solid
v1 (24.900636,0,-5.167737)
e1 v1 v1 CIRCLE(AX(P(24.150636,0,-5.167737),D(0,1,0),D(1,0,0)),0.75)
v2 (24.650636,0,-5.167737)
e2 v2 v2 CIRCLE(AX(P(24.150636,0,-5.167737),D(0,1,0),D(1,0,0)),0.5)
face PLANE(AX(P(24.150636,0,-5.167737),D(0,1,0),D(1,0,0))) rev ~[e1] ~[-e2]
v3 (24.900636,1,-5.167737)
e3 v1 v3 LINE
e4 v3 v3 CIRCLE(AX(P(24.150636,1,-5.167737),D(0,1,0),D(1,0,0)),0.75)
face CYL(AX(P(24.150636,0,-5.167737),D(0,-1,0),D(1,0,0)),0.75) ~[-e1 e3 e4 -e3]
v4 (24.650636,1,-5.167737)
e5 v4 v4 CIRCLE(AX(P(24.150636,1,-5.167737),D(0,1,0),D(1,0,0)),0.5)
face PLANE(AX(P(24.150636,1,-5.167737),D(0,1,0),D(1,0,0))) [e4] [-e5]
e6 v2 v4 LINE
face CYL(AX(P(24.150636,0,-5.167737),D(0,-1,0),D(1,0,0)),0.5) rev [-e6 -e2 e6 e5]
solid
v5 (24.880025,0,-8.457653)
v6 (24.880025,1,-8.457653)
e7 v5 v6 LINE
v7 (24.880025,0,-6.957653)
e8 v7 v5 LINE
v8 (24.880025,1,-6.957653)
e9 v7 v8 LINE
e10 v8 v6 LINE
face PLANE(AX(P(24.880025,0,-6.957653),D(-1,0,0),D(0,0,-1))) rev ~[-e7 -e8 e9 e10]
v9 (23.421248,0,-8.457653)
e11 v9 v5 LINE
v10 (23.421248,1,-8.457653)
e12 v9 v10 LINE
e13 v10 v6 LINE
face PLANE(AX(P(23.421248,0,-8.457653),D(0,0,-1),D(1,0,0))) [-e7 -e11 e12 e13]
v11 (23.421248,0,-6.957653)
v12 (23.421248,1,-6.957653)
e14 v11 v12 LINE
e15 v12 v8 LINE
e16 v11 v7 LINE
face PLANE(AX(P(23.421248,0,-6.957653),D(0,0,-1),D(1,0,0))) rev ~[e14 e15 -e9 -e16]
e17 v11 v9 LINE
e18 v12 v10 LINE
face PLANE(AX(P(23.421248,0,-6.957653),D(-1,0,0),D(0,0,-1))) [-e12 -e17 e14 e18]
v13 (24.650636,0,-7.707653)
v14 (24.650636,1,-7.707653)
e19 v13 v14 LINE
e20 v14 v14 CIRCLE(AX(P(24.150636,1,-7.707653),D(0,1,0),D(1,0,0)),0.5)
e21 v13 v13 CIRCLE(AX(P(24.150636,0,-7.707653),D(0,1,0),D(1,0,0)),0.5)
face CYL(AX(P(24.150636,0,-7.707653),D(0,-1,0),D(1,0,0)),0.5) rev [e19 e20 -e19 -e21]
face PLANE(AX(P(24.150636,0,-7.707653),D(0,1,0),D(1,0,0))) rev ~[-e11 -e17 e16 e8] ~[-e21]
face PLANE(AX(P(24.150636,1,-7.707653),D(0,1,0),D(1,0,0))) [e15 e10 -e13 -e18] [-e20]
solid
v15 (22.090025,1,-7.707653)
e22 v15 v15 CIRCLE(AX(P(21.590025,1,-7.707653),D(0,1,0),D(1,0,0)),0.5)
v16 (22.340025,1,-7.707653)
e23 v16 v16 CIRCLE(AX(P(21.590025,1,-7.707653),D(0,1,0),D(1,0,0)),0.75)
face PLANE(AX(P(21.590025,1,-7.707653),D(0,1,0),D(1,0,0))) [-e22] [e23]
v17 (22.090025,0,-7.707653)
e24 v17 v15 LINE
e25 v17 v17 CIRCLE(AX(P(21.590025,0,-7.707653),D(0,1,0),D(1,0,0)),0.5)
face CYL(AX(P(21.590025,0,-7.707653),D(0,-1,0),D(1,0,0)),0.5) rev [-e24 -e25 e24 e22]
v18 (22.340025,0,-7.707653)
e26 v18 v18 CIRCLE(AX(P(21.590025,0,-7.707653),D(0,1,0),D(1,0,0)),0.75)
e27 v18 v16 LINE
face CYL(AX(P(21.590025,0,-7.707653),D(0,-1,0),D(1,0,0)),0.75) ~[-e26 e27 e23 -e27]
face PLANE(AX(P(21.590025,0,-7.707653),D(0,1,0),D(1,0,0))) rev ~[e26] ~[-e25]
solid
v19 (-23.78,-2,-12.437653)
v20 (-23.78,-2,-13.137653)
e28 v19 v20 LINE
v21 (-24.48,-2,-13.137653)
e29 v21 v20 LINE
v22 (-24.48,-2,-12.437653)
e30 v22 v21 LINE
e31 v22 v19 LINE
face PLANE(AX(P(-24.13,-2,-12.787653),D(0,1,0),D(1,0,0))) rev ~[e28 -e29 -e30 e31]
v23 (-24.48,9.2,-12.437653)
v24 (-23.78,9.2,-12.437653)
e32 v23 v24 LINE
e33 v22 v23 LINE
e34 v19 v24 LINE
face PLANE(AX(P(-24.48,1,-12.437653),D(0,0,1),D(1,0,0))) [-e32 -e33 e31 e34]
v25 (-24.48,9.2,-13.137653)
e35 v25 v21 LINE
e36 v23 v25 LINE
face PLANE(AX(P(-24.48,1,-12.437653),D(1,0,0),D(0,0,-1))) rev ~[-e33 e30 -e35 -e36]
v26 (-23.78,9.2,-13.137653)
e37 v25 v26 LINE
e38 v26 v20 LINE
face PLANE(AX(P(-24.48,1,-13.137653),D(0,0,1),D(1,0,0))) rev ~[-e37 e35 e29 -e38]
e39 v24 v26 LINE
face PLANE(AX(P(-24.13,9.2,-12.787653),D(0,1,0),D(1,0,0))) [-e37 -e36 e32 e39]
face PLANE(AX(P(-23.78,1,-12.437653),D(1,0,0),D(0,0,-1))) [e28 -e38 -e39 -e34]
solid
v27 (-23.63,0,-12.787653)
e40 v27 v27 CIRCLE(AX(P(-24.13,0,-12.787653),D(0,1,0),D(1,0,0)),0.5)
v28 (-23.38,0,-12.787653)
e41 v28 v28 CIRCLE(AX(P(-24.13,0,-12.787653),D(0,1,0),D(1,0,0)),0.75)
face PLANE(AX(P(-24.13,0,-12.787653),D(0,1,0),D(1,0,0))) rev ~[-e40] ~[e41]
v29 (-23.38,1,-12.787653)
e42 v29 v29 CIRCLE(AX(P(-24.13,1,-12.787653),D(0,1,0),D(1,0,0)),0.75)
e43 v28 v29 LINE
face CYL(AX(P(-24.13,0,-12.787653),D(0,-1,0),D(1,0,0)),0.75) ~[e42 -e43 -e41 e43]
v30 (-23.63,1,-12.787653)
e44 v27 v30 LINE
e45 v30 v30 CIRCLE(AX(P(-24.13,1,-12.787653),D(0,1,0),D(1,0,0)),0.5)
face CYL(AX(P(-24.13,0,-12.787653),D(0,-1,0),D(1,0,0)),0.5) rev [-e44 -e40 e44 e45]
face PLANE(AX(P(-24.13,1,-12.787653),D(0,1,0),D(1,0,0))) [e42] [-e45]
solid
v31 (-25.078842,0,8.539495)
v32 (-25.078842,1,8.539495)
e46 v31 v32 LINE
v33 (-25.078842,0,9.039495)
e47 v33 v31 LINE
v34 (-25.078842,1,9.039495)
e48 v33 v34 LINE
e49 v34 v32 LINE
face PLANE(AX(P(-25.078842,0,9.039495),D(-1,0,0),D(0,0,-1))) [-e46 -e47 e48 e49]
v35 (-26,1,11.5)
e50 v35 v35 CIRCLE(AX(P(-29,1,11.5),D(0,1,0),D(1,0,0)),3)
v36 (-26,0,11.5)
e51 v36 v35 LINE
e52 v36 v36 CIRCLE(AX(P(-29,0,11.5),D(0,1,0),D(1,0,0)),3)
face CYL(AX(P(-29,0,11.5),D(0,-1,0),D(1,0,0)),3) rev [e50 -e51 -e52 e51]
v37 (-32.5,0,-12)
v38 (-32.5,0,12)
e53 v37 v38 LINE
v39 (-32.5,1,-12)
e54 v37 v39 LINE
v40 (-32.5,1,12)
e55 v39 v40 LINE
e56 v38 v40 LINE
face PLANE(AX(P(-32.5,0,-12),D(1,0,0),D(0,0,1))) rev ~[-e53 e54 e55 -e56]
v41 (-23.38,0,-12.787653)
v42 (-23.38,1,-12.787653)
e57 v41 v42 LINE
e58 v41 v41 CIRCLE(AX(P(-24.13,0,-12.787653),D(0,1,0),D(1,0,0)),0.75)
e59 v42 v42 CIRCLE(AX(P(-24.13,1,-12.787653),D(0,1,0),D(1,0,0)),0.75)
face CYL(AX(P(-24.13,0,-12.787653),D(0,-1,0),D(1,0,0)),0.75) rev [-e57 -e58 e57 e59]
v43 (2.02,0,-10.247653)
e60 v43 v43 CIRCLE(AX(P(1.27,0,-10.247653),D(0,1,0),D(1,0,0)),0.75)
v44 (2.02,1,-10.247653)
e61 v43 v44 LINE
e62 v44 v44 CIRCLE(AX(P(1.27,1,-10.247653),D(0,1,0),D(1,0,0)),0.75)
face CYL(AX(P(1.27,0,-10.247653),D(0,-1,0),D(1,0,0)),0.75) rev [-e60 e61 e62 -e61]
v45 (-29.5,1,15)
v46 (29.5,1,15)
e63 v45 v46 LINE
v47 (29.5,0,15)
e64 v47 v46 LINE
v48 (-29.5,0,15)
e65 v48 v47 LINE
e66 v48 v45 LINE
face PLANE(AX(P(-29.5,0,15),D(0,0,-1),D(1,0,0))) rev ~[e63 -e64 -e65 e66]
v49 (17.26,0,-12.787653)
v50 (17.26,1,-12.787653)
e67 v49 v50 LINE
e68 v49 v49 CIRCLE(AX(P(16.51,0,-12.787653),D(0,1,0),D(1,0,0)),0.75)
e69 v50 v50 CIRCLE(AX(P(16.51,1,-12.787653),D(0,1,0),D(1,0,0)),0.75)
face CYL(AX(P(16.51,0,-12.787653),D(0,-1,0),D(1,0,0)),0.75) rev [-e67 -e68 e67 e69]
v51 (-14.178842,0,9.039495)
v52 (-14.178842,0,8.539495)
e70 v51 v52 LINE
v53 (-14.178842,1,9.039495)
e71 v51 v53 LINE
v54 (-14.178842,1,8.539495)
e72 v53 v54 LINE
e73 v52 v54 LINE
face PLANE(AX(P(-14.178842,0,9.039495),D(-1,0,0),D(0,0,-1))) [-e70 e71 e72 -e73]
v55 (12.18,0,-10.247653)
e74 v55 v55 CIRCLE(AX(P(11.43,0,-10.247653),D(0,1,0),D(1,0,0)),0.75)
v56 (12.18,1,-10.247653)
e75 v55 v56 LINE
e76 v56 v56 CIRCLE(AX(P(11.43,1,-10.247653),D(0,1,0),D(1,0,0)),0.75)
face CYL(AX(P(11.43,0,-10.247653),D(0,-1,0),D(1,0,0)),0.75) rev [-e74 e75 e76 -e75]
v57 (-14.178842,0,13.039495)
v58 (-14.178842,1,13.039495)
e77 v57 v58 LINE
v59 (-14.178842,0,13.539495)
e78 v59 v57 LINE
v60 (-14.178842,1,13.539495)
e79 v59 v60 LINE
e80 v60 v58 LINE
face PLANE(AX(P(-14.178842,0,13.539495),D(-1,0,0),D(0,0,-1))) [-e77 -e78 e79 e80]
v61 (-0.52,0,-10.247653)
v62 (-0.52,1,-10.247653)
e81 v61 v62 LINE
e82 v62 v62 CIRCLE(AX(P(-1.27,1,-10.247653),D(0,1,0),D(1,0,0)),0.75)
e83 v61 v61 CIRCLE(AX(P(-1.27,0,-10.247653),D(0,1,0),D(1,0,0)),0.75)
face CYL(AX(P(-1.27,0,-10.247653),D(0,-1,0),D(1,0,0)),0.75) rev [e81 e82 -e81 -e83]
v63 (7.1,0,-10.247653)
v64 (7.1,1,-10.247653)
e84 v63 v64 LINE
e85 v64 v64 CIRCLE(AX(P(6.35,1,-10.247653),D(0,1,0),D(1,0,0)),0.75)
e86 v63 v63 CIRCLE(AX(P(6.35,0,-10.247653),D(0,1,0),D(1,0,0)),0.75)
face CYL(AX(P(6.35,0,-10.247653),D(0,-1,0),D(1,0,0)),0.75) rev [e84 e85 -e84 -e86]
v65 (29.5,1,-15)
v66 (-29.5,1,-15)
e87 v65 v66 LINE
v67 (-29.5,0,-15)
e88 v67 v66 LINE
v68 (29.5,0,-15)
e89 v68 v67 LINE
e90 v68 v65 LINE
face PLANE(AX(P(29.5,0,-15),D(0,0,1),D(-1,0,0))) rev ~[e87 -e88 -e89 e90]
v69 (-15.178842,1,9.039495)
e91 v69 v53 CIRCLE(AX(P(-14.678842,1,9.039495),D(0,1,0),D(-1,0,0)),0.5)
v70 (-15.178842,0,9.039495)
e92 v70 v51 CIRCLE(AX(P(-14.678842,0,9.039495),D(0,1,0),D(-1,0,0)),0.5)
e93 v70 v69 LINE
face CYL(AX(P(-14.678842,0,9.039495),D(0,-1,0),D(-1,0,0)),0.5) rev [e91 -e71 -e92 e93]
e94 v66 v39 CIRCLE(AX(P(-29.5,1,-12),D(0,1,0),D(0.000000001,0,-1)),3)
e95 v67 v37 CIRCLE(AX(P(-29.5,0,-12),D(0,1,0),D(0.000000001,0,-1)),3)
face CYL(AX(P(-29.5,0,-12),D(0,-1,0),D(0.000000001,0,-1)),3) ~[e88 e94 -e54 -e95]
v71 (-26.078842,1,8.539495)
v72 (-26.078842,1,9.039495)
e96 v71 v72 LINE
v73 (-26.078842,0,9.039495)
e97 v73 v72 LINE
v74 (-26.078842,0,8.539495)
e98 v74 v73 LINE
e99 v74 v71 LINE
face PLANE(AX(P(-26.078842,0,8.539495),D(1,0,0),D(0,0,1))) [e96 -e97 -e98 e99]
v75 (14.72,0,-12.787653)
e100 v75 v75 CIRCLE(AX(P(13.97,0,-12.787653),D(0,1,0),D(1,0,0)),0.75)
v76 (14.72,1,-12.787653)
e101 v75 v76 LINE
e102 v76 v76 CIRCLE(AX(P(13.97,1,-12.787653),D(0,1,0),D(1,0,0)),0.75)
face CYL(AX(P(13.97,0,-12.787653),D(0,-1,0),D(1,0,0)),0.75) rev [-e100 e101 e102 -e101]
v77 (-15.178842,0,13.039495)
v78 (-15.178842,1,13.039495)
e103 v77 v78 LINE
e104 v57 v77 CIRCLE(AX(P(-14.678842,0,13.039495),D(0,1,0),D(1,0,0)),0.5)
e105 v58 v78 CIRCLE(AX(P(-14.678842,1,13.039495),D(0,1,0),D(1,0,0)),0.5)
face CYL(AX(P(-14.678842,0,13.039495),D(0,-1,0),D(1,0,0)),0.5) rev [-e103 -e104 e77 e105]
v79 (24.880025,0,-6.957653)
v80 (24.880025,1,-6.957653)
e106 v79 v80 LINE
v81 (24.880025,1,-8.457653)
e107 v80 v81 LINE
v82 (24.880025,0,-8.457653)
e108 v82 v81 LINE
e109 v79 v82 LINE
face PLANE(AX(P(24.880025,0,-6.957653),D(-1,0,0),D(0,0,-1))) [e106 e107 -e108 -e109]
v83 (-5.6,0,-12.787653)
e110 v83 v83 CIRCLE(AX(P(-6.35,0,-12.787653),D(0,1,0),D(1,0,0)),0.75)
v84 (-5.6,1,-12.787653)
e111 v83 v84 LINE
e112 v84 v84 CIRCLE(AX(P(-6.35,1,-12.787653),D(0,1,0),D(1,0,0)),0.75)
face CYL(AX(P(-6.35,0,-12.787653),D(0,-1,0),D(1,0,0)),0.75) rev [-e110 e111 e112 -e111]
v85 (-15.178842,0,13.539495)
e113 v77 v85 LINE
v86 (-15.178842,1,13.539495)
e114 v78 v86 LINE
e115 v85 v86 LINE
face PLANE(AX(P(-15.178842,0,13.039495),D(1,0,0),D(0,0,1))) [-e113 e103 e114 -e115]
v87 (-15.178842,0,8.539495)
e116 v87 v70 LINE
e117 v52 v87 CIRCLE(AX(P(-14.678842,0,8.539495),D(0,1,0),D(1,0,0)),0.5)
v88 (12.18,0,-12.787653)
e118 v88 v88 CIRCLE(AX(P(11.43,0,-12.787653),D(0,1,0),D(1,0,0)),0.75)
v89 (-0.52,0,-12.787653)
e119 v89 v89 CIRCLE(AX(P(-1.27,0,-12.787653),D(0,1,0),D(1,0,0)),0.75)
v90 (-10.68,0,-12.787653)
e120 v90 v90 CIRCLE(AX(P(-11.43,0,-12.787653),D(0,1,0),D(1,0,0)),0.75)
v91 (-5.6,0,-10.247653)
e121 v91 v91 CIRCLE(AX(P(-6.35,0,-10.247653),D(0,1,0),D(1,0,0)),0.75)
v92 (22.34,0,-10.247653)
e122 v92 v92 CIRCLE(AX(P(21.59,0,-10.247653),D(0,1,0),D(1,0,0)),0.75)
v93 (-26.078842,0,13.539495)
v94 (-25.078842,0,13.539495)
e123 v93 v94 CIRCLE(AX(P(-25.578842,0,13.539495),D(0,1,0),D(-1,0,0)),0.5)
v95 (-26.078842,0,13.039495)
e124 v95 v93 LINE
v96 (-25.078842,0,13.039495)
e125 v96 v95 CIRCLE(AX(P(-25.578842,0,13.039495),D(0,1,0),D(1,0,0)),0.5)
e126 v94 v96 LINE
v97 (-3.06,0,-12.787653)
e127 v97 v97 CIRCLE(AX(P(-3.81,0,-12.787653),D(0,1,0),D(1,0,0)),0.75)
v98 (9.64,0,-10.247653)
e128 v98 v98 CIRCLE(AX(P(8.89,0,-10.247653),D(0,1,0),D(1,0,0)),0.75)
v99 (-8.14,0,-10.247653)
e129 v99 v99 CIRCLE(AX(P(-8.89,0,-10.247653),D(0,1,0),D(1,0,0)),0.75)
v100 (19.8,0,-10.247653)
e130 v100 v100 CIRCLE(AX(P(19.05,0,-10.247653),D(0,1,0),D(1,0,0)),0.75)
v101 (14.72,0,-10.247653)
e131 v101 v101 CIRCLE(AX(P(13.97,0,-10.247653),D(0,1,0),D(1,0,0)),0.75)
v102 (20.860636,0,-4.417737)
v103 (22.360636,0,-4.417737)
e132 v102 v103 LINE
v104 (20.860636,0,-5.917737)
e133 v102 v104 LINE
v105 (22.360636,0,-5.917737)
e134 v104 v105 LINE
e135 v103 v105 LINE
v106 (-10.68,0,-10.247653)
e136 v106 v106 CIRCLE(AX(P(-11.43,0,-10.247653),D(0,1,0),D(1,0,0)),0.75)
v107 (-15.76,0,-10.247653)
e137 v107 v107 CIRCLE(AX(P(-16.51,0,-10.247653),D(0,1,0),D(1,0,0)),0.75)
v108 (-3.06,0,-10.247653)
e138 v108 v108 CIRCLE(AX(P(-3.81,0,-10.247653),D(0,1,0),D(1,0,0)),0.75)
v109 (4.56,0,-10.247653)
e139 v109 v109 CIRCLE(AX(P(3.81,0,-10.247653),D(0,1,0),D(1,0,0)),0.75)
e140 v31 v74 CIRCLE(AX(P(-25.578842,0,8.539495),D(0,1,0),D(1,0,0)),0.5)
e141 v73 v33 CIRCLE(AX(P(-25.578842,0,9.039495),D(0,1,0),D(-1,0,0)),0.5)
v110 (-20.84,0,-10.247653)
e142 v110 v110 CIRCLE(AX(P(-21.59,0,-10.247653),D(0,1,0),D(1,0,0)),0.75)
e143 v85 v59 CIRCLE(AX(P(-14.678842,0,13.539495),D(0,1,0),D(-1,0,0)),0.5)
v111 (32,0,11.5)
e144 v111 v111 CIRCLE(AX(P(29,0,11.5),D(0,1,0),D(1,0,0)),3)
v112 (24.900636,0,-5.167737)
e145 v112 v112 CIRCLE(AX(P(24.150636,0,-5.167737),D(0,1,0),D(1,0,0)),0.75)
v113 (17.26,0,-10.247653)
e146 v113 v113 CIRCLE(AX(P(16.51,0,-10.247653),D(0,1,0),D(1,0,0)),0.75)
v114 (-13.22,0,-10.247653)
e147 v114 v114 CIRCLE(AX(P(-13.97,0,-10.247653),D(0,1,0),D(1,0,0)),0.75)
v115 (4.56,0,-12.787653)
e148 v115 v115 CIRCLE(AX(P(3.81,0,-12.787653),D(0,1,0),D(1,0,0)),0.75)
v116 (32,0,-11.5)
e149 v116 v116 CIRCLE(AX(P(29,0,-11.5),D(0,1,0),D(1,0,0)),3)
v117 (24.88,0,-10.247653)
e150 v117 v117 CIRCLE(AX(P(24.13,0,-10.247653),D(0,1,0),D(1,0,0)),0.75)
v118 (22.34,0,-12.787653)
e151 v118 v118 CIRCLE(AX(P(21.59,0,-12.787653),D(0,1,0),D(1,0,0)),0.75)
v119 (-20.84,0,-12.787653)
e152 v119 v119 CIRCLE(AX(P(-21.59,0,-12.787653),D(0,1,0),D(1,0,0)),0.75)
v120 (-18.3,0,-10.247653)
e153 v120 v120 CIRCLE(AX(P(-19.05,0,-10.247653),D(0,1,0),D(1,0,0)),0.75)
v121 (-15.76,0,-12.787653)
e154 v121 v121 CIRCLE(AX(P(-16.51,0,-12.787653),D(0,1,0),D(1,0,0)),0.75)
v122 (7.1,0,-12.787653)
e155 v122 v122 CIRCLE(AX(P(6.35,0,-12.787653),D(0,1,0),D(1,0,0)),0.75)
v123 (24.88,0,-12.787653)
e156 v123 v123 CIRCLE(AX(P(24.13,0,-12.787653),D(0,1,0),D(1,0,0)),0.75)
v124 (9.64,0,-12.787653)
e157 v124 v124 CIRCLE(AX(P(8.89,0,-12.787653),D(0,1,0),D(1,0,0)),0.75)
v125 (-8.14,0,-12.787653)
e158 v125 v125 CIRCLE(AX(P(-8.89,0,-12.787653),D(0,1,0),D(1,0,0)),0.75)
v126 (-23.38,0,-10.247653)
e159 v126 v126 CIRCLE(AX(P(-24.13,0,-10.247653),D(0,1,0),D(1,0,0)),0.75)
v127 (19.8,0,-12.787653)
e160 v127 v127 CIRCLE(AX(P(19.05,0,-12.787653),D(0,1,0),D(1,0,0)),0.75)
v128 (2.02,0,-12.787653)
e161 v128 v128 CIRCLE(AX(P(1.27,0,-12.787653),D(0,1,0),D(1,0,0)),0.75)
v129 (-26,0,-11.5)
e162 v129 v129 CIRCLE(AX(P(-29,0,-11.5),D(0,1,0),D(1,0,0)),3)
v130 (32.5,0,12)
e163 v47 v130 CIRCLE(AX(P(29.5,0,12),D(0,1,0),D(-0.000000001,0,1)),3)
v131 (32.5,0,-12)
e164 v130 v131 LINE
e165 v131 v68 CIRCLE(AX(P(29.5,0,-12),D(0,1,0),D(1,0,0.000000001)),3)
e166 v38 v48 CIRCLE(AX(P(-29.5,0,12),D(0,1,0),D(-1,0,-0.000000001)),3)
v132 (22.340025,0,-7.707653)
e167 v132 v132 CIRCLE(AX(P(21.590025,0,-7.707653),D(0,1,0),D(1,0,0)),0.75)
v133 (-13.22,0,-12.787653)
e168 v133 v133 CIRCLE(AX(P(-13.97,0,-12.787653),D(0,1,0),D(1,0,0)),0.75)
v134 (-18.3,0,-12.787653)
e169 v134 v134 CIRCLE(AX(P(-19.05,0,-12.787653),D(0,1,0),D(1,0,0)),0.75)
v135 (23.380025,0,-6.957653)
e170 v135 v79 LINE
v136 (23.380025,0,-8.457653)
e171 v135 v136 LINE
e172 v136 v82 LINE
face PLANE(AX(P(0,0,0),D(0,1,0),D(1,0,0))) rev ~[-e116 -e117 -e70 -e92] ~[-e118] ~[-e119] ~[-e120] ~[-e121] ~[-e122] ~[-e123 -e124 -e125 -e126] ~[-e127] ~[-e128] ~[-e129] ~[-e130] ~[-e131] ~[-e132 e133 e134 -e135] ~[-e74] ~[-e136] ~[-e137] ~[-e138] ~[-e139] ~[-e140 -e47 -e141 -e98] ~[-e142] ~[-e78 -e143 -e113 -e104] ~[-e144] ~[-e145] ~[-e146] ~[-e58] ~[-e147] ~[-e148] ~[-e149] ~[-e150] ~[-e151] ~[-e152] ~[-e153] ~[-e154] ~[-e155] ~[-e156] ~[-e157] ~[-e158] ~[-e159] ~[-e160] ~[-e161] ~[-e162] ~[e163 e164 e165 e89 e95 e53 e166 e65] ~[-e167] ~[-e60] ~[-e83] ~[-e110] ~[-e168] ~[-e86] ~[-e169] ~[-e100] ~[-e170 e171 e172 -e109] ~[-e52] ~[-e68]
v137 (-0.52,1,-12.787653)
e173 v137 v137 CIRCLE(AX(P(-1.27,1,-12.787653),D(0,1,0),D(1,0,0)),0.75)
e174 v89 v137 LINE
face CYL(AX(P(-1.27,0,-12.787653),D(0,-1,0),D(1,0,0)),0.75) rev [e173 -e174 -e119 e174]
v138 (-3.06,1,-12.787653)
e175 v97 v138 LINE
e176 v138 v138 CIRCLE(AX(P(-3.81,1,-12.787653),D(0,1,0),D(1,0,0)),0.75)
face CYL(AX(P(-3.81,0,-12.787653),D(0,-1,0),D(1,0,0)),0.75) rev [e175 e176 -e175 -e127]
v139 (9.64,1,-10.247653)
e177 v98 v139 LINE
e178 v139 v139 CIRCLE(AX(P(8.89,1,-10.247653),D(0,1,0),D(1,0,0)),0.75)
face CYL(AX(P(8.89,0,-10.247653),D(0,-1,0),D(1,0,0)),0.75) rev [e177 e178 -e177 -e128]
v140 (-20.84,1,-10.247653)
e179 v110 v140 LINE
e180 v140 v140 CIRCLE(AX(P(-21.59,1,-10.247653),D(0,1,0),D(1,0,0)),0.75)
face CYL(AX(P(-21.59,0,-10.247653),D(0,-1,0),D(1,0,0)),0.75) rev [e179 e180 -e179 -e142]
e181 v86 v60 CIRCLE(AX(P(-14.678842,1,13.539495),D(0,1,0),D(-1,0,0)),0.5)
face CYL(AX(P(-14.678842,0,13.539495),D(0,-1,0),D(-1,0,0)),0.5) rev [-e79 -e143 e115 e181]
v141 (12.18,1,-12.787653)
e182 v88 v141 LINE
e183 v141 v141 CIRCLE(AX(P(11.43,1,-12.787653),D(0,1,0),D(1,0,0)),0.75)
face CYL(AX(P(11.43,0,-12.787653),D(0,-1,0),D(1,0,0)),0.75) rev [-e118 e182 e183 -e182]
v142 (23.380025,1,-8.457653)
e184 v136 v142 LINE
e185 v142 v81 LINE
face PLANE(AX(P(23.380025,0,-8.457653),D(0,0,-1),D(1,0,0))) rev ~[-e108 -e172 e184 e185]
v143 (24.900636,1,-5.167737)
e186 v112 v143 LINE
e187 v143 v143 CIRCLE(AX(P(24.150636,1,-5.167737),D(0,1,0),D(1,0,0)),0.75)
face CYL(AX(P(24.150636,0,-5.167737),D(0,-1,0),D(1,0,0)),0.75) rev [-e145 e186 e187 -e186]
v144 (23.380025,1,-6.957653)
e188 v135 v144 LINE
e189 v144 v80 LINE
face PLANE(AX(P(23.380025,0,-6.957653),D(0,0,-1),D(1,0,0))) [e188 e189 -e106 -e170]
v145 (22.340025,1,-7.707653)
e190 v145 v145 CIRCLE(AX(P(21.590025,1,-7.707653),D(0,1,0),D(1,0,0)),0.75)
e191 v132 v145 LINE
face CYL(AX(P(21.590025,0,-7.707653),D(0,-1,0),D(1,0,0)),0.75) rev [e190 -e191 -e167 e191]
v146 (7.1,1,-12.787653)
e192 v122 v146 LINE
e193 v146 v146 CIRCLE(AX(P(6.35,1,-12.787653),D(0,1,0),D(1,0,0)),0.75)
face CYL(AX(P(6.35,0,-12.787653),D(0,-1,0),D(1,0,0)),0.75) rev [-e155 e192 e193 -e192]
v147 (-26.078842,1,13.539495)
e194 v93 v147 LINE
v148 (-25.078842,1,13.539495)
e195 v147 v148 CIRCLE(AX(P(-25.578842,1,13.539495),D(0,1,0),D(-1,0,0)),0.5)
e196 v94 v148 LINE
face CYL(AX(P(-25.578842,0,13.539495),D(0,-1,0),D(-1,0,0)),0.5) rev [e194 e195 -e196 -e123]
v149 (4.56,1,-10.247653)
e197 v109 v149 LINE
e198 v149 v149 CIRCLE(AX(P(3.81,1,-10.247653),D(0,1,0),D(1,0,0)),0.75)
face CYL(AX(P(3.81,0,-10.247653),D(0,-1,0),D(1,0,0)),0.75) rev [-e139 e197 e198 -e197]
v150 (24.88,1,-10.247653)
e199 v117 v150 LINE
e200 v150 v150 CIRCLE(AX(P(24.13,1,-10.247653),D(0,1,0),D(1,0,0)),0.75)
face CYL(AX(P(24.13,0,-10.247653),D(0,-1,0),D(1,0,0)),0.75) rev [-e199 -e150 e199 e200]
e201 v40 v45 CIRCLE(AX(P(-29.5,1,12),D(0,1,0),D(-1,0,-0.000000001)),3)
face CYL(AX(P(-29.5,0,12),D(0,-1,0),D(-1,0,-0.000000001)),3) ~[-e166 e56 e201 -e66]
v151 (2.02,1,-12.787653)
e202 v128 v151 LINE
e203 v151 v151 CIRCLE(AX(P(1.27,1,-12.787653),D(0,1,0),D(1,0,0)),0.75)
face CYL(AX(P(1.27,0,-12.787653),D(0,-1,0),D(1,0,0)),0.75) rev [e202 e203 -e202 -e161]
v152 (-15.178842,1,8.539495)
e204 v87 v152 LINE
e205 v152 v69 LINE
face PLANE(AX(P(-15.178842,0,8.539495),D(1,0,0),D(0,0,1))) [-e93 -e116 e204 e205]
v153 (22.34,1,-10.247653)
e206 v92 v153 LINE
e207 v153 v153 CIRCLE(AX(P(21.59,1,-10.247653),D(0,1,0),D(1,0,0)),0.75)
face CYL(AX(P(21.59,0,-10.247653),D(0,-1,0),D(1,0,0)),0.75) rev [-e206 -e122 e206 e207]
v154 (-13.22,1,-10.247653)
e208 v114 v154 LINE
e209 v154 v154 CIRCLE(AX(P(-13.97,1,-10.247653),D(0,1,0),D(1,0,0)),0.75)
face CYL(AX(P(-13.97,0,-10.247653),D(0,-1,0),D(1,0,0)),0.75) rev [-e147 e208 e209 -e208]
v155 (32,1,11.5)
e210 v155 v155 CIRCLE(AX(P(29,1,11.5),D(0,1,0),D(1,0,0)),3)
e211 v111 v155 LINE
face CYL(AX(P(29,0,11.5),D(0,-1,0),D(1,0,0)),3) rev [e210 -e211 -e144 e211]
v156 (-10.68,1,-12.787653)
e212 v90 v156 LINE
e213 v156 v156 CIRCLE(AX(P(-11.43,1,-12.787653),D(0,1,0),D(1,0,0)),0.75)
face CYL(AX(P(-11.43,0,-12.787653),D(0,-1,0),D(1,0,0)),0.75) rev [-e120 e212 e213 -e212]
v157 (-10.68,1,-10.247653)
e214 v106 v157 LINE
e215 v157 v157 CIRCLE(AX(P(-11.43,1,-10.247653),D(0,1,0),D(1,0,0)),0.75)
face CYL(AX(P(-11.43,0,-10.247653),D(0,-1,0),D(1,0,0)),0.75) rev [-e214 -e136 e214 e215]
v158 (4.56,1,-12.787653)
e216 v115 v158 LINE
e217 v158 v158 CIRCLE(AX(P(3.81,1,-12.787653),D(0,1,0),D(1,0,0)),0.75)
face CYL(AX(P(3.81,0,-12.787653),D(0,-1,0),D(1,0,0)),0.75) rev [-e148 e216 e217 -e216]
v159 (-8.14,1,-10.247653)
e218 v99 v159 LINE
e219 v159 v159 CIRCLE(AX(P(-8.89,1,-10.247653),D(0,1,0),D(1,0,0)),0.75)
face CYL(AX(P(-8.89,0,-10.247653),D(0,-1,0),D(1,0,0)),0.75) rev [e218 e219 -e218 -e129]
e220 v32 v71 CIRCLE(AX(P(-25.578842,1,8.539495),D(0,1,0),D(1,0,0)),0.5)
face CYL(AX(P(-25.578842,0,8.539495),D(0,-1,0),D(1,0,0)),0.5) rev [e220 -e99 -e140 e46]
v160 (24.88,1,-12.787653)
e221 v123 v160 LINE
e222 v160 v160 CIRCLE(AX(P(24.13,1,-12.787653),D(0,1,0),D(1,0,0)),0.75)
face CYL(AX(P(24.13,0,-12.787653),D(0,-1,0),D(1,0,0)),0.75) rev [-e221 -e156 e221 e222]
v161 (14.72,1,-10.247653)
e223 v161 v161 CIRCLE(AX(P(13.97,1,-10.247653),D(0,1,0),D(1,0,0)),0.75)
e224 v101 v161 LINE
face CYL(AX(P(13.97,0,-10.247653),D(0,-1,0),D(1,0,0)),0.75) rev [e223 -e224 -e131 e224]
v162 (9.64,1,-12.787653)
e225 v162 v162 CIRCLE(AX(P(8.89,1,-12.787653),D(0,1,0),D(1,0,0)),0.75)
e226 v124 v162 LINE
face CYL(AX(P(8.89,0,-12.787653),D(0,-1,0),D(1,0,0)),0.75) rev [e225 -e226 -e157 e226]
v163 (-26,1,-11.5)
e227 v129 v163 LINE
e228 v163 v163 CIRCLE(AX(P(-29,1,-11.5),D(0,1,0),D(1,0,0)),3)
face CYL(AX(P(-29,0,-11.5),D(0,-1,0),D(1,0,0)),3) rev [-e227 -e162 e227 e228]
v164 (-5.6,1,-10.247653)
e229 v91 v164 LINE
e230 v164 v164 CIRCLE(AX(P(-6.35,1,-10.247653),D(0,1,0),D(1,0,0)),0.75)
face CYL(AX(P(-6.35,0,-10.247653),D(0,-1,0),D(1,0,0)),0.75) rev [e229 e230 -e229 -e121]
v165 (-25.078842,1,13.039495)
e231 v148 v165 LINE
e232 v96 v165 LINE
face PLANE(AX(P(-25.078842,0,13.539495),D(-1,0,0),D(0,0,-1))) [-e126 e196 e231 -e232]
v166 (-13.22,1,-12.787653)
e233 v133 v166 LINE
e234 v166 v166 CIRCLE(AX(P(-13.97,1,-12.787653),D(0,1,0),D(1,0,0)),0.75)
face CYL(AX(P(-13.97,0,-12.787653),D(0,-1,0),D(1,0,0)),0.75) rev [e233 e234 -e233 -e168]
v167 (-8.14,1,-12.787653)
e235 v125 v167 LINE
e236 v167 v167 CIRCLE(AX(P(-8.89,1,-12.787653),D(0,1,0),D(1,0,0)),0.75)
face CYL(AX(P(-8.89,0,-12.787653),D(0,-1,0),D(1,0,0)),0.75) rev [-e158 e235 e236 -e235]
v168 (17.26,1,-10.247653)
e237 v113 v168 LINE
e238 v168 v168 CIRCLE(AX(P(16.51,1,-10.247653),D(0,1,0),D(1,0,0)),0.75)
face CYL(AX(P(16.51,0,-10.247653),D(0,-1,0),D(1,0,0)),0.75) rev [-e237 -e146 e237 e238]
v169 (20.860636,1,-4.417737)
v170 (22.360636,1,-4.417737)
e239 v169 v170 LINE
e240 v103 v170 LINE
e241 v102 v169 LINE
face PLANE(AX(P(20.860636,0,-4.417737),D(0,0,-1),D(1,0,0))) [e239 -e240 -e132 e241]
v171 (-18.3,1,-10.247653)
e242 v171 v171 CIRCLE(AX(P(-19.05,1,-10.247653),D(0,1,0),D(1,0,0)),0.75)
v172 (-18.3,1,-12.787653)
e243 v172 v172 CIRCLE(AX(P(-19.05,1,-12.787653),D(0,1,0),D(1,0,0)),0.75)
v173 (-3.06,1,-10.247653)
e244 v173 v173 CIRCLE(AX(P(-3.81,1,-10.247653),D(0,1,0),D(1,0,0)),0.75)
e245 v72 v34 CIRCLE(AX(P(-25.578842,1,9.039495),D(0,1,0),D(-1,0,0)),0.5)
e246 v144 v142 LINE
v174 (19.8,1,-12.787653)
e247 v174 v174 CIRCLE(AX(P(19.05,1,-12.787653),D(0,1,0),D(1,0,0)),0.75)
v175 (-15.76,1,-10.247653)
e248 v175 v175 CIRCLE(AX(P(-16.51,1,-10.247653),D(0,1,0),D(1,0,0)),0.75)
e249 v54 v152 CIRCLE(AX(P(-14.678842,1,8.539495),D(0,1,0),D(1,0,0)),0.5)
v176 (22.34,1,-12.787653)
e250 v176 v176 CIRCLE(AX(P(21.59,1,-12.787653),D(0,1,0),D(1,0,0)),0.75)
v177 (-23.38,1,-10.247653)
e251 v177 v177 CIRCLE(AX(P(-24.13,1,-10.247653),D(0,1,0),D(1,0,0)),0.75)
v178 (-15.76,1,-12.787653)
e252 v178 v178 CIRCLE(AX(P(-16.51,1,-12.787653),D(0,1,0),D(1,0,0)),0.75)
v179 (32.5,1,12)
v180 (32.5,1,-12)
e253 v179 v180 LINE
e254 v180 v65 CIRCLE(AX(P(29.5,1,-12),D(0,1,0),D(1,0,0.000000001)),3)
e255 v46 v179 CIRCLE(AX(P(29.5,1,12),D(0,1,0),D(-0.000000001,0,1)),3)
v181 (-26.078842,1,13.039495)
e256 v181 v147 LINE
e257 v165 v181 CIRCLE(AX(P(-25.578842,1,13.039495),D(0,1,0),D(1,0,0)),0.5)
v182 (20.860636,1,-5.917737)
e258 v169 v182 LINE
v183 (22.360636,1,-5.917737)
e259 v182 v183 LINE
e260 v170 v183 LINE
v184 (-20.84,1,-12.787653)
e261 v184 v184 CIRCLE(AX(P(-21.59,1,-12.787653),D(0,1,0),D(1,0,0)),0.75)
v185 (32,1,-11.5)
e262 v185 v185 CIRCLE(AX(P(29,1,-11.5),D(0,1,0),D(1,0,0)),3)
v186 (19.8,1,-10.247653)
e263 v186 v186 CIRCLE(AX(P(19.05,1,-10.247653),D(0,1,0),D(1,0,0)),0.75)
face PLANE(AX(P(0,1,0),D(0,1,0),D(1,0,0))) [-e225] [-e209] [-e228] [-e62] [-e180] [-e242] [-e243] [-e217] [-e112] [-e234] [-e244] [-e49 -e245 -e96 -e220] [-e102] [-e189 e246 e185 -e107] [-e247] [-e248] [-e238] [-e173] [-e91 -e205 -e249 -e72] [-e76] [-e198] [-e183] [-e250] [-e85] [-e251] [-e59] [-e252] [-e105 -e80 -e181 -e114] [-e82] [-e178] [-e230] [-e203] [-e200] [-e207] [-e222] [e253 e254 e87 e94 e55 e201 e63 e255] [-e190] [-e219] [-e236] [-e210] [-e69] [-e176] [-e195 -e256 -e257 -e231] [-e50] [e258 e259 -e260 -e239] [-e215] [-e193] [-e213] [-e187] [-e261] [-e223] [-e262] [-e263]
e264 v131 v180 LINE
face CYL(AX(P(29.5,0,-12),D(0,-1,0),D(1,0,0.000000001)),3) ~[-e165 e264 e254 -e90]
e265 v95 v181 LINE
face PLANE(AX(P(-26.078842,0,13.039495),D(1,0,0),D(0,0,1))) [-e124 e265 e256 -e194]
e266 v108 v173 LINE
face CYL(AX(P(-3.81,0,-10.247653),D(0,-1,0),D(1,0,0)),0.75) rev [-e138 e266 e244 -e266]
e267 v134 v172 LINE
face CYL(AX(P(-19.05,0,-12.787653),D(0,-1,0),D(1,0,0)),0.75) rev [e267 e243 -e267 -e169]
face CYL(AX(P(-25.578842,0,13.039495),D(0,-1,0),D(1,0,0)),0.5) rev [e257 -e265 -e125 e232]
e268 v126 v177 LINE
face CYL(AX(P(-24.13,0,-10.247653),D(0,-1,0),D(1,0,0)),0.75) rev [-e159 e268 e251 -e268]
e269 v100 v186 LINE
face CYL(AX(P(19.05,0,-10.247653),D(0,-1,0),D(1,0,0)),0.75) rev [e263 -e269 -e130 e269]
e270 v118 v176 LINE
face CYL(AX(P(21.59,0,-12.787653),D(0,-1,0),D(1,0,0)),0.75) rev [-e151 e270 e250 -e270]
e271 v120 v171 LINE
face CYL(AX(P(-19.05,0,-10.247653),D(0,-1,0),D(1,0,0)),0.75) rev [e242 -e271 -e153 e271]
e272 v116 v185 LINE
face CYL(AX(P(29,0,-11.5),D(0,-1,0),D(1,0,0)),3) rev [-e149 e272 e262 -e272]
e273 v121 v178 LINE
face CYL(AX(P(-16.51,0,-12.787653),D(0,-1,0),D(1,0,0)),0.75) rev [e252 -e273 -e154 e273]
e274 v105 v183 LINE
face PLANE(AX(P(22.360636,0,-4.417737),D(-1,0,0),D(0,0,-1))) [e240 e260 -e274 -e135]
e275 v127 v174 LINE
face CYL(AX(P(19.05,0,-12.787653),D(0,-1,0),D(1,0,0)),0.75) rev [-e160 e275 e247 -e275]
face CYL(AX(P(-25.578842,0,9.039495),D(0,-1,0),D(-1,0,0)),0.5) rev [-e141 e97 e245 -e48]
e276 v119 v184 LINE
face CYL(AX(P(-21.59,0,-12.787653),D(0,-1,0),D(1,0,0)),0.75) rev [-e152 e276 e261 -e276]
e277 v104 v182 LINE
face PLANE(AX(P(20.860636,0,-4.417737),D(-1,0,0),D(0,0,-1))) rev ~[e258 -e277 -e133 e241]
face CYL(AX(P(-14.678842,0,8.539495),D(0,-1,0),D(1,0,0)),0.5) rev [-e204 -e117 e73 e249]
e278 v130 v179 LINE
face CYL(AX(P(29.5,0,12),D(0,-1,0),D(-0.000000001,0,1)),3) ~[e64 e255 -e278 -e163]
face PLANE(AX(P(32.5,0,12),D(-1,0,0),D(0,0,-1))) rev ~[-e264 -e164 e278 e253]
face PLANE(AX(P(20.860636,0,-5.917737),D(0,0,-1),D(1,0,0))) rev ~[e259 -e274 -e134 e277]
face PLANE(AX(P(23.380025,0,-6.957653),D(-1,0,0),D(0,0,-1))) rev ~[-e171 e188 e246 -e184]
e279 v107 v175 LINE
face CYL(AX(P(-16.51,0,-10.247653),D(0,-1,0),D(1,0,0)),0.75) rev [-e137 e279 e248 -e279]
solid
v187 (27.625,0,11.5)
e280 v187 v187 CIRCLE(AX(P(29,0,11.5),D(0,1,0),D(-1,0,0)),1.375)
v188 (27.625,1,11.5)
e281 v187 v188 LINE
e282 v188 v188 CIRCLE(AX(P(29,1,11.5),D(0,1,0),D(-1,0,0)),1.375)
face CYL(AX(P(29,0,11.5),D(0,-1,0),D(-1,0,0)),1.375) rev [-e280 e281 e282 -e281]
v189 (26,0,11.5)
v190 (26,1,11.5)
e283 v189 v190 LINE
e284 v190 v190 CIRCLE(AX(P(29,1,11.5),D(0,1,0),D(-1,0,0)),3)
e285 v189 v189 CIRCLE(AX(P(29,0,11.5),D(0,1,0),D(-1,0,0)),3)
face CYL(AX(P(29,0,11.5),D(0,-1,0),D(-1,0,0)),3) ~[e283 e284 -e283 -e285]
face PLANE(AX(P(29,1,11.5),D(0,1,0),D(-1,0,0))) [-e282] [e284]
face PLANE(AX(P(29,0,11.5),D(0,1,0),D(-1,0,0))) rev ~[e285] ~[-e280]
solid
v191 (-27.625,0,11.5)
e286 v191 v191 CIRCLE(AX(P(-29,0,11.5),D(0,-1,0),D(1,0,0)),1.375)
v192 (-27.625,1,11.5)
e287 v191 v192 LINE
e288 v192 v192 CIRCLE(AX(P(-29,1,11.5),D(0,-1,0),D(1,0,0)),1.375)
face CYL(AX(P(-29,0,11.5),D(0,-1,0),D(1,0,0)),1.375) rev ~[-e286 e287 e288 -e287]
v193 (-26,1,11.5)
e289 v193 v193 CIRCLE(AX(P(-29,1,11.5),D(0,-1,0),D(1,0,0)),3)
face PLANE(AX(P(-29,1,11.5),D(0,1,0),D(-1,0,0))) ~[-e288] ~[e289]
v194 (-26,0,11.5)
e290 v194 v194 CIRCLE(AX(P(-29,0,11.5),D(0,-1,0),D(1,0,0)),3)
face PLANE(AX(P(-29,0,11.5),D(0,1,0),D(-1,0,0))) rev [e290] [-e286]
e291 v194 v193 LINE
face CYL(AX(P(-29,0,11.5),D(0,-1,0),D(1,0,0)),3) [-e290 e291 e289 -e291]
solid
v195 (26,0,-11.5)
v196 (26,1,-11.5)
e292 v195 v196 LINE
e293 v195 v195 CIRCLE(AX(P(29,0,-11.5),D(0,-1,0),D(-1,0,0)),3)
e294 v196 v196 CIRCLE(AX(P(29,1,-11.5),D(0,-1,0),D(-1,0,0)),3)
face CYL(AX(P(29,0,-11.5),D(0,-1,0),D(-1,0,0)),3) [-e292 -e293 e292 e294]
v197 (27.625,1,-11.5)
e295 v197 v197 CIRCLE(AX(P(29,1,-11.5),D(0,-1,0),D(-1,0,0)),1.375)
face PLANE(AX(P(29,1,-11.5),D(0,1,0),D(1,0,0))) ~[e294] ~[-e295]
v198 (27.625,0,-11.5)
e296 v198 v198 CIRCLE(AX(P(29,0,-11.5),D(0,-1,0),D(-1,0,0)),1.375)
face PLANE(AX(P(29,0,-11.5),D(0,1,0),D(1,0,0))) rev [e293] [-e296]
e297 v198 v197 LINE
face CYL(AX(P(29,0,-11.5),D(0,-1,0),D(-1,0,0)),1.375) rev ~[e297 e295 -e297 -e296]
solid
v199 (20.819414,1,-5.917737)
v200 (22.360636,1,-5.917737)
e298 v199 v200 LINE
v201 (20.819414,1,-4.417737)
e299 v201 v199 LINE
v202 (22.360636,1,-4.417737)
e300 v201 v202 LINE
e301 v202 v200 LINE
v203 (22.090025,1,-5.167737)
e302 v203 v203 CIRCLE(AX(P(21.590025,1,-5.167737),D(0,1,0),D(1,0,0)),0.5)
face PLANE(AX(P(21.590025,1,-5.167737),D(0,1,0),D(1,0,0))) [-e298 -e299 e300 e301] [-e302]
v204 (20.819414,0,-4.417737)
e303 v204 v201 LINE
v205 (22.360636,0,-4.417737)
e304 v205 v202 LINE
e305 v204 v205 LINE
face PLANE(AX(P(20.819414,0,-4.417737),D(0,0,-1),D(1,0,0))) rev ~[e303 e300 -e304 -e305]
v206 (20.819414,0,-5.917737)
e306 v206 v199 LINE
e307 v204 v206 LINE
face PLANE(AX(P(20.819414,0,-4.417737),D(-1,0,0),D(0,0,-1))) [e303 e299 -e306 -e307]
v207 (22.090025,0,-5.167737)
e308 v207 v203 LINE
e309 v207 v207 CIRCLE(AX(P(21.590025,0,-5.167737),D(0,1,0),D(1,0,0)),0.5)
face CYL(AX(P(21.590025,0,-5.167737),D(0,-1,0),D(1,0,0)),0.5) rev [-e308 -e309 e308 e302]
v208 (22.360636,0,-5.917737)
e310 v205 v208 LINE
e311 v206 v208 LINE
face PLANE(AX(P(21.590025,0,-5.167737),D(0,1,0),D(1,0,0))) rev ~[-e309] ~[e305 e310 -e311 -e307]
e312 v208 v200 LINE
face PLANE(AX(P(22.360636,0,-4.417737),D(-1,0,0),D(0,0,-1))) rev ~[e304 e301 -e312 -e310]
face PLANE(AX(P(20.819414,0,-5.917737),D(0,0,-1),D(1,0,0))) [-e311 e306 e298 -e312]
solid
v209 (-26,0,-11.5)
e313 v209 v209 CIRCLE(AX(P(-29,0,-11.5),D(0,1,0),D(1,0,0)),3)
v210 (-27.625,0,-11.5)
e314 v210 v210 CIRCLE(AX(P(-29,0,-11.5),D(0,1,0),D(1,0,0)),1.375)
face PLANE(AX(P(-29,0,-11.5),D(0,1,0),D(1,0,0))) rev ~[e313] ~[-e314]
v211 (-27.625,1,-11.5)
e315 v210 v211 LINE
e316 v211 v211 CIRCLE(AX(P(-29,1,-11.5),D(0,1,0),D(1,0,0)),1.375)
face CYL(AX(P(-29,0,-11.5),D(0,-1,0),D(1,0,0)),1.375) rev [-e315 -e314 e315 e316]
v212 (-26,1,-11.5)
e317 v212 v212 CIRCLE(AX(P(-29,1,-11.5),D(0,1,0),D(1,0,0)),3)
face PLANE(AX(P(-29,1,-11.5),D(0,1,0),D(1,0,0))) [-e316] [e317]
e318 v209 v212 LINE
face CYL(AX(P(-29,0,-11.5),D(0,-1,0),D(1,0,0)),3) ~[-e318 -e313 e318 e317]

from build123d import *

# Parameters (mm, degrees)
SKETCH1_R                = 3
SKETCH1_R_2              = 0.75
SKETCH1_W                = 1.5
SKETCH1_H                = 1.5
BOSS_EXTRUDE1_DEPTH      = 1
SKETCH2_R                = 0.75
SKETCH2_R_2              = 0.5
BOSS_EXTRUDE2_DEPTH      = 1
SKETCH6_W                = 0.7
SKETCH6_H                = 0.7
BOSS_EXTRUDE5_DEPTH      = 8.2
BOSS_EXTRUDE5_DEPTH_BACK = 3
SKETCH3_R                = 0.75
SKETCH3_R_2              = 0.5
BOSS_EXTRUDE3_DEPTH      = 1
BOSS_EXTRUDE3_2_DEPTH    = 1
SKETCH3_W                = 1.541222488
SKETCH3_H                = 1.5
BOSS_EXTRUDE3_3_DEPTH    = 1
SKETCH3_W_2              = 1.458777511
BOSS_EXTRUDE3_4_DEPTH    = 1
SKETCH4_R                = 3
SKETCH4_R_2              = 1.375
BOSS_EXTRUDE4_DEPTH      = 1
CUT_EXTRUDE1_DEPTH       = 1


with BuildPart() as part:
    # Sketch1 → Boss-Extrude1 (new body)
    with BuildSketch(Plane(origin=(0, 0, 0), x_dir=(1, 0, 0), z_dir=(0, 1, 0))):
        with BuildLine():
            Line((-29.5, -15), (29.5, -15))
            ThreePointArc((29.5, -15), (31.621320344, -14.121320344), (32.5, -12))
            Line((32.5, -12), (32.5, 12))
            ThreePointArc((32.5, 12), (31.621320344, 14.121320344), (29.5, 15))
            Line((29.5, 15), (-29.5, 15))
            ThreePointArc((-29.5, 15), (-31.621320344, 14.121320344), (-32.5, 12))
            Line((-32.5, 12), (-32.5, -12))
            ThreePointArc((-32.5, -12), (-31.621320344, -14.121320344), (-29.5, -15))
        make_face()
        with Locations((-29, 11.5)):
            Circle(SKETCH1_R, mode=Mode.SUBTRACT)
        with Locations((-29, -11.5)):
            Circle(SKETCH1_R, mode=Mode.SUBTRACT)
        with Locations((29, -11.5)):
            Circle(SKETCH1_R, mode=Mode.SUBTRACT)
        with Locations((-24.13, 12.787653136)):
            Circle(SKETCH1_R_2, mode=Mode.SUBTRACT)
        with Locations((-21.59, 12.787653136)):
            Circle(SKETCH1_R_2, mode=Mode.SUBTRACT)
        with Locations((-19.05, 12.787653136)):
            Circle(SKETCH1_R_2, mode=Mode.SUBTRACT)
        with Locations((-16.51, 12.787653136)):
            Circle(SKETCH1_R_2, mode=Mode.SUBTRACT)
        with Locations((-13.97, 12.787653136)):
            Circle(SKETCH1_R_2, mode=Mode.SUBTRACT)
        with Locations((-11.43, 12.787653136)):
            Circle(SKETCH1_R_2, mode=Mode.SUBTRACT)
        with Locations((-8.89, 12.787653136)):
            Circle(SKETCH1_R_2, mode=Mode.SUBTRACT)
        with Locations((-6.35, 12.787653136)):
            Circle(SKETCH1_R_2, mode=Mode.SUBTRACT)
        with Locations((-3.81, 12.787653136)):
            Circle(SKETCH1_R_2, mode=Mode.SUBTRACT)
        with Locations((-1.27, 12.787653136)):
            Circle(SKETCH1_R_2, mode=Mode.SUBTRACT)
        with Locations((1.27, 12.787653136)):
            Circle(SKETCH1_R_2, mode=Mode.SUBTRACT)
        with Locations((3.81, 12.787653136)):
            Circle(SKETCH1_R_2, mode=Mode.SUBTRACT)
        with Locations((6.35, 12.787653136)):
            Circle(SKETCH1_R_2, mode=Mode.SUBTRACT)
        with Locations((8.89, 12.787653136)):
            Circle(SKETCH1_R_2, mode=Mode.SUBTRACT)
        with Locations((11.43, 12.787653136)):
            Circle(SKETCH1_R_2, mode=Mode.SUBTRACT)
        with Locations((13.97, 12.787653136)):
            Circle(SKETCH1_R_2, mode=Mode.SUBTRACT)
        with Locations((16.51, 12.787653136)):
            Circle(SKETCH1_R_2, mode=Mode.SUBTRACT)
        with Locations((19.05, 12.787653136)):
            Circle(SKETCH1_R_2, mode=Mode.SUBTRACT)
        with Locations((21.59, 12.787653136)):
            Circle(SKETCH1_R_2, mode=Mode.SUBTRACT)
        with Locations((24.13, 12.787653136)):
            Circle(SKETCH1_R_2, mode=Mode.SUBTRACT)
        with Locations((-21.59, 10.247653136)):
            Circle(SKETCH1_R_2, mode=Mode.SUBTRACT)
        with Locations((-19.05, 10.247653136)):
            Circle(SKETCH1_R_2, mode=Mode.SUBTRACT)
        with Locations((-16.51, 10.247653136)):
            Circle(SKETCH1_R_2, mode=Mode.SUBTRACT)
        with Locations((-13.97, 10.247653136)):
            Circle(SKETCH1_R_2, mode=Mode.SUBTRACT)
        with Locations((-11.43, 10.247653136)):
            Circle(SKETCH1_R_2, mode=Mode.SUBTRACT)
        with Locations((-8.89, 10.247653136)):
            Circle(SKETCH1_R_2, mode=Mode.SUBTRACT)
        with Locations((-6.35, 10.247653136)):
            Circle(SKETCH1_R_2, mode=Mode.SUBTRACT)
        with Locations((-3.81, 10.247653136)):
            Circle(SKETCH1_R_2, mode=Mode.SUBTRACT)
        with Locations((-1.27, 10.247653136)):
            Circle(SKETCH1_R_2, mode=Mode.SUBTRACT)
        with Locations((1.27, 10.247653136)):
            Circle(SKETCH1_R_2, mode=Mode.SUBTRACT)
        with Locations((3.81, 10.247653136)):
            Circle(SKETCH1_R_2, mode=Mode.SUBTRACT)
        with Locations((6.35, 10.247653136)):
            Circle(SKETCH1_R_2, mode=Mode.SUBTRACT)
        with Locations((8.89, 10.247653136)):
            Circle(SKETCH1_R_2, mode=Mode.SUBTRACT)
        with Locations((11.43, 10.247653136)):
            Circle(SKETCH1_R_2, mode=Mode.SUBTRACT)
        with Locations((13.97, 10.247653136)):
            Circle(SKETCH1_R_2, mode=Mode.SUBTRACT)
        with Locations((16.51, 10.247653136)):
            Circle(SKETCH1_R_2, mode=Mode.SUBTRACT)
        with Locations((19.05, 10.247653136)):
            Circle(SKETCH1_R_2, mode=Mode.SUBTRACT)
        with Locations((21.59, 10.247653136)):
            Circle(SKETCH1_R_2, mode=Mode.SUBTRACT)
        with Locations((24.13, 10.247653136)):
            Circle(SKETCH1_R_2, mode=Mode.SUBTRACT)
        with Locations((-24.13, 10.247653136)):
            Circle(SKETCH1_R_2, mode=Mode.SUBTRACT)
        with Locations((21.59002512, 7.707653136)):
            Circle(SKETCH1_R_2, mode=Mode.SUBTRACT)
        with Locations((24.150636364, 5.167736764)):
            Circle(SKETCH1_R_2, mode=Mode.SUBTRACT)
        with Locations((29, 11.5)):
            Circle(SKETCH1_R, mode=Mode.SUBTRACT)
        with Locations((24.13002512, 7.707653136)):
            Rectangle(SKETCH1_W, SKETCH1_H, mode=Mode.SUBTRACT)
        with Locations((21.610636364, 5.167736764)):
            Rectangle(SKETCH1_W, SKETCH1_H, mode=Mode.SUBTRACT)
    extrude(amount=BOSS_EXTRUDE1_DEPTH)

    # Sketch5 → Cut-Extrude1 (cut)
    with BuildSketch(Plane.XZ):
        with BuildLine():
            Line((-26.078842351, 13.039495396), (-26.078842351, 13.539495396))
            ThreePointArc((-26.078842351, 13.539495396), (-25.578842351, 14.039495396), (-25.078842351, 13.539495396))
            Line((-25.078842351, 13.539495396), (-25.078842351, 13.039495396))
            ThreePointArc((-25.078842351, 13.039495396), (-25.578842351, 12.539495396), (-26.078842351, 13.039495396))
        make_face()
        with BuildLine():
            Line((-15.178842351, 13.039495396), (-15.178842351, 13.539495396))
            ThreePointArc((-15.178842351, 13.539495396), (-14.678842351, 14.039495396), (-14.178842351, 13.539495396))
            Line((-14.178842351, 13.539495396), (-14.178842351, 13.039495396))
            ThreePointArc((-14.178842351, 13.039495396), (-14.678842351, 12.539495396), (-15.178842351, 13.039495396))
        make_face()
        with BuildLine():
            Line((-15.178842351, 8.539495396), (-15.178842351, 9.039495396))
            ThreePointArc((-15.178842351, 9.039495396), (-14.678842351, 9.539495396), (-14.178842351, 9.039495396))
            Line((-14.178842351, 9.039495396), (-14.178842351, 8.539495396))
            ThreePointArc((-14.178842351, 8.539495396), (-14.678842351, 8.039495396), (-15.178842351, 8.539495396))
        make_face()
        with BuildLine():
            Line((-26.078842351, 8.539495396), (-26.078842351, 9.039495396))
            ThreePointArc((-26.078842351, 9.039495396), (-25.578842351, 9.539495396), (-25.078842351, 9.039495396))
            Line((-25.078842351, 9.039495396), (-25.078842351, 8.539495396))
            ThreePointArc((-25.078842351, 8.539495396), (-25.578842351, 8.039495396), (-26.078842351, 8.539495396))
        make_face()
    extrude(amount=-CUT_EXTRUDE1_DEPTH, mode=Mode.SUBTRACT)


with BuildPart() as body_2:
    # Sketch2 → Boss-Extrude2 (new body)
    with BuildSketch(Plane(origin=(0, 0, 0), x_dir=(1, 0, 0), z_dir=(0, 1, 0))):
        with Locations((-24.13, 12.787653136)):
            Circle(SKETCH2_R)
        with Locations((-24.13, 12.787653136)):
            Circle(SKETCH2_R_2, mode=Mode.SUBTRACT)
    extrude(amount=BOSS_EXTRUDE2_DEPTH)


with BuildPart() as body_3:
    # Sketch6 → Boss-Extrude5 (new body, two sides)
    with BuildSketch(Plane(origin=(0, 1, 0), x_dir=(1, 0, 0), z_dir=(0, 1, 0))) as boss_extrude5_sk:
        with Locations((-24.13, 12.787653136)):
            Rectangle(SKETCH6_W, SKETCH6_H)
    extrude(amount=BOSS_EXTRUDE5_DEPTH)
    extrude(boss_extrude5_sk.sketch, amount=-BOSS_EXTRUDE5_DEPTH_BACK)


with BuildPart() as body_4:
    # Sketch3 → Boss-Extrude3 (new body)
    with BuildSketch(Plane(origin=(0, 0, 0), x_dir=(1, 0, 0), z_dir=(0, 1, 0))):
        with Locations((21.59002512, 7.707653136)):
            Circle(SKETCH3_R)
        with Locations((21.59002512, 7.707653136)):
            Circle(SKETCH3_R_2, mode=Mode.SUBTRACT)
    extrude(amount=BOSS_EXTRUDE3_DEPTH)


with BuildPart() as body_5:
    # Sketch3 → Boss-Extrude3 2 (new body)
    with BuildSketch(Plane(origin=(0, 0, 0), x_dir=(1, 0, 0), z_dir=(0, 1, 0))):
        with Locations((24.150636364, 5.167736764)):
            Circle(SKETCH3_R)
        with Locations((24.150636364, 5.167736764)):
            Circle(SKETCH3_R_2, mode=Mode.SUBTRACT)
    extrude(amount=BOSS_EXTRUDE3_2_DEPTH)


with BuildPart() as body_6:
    # Sketch3 → Boss-Extrude3 3 (new body)
    with BuildSketch(Plane(origin=(0, 0, 0), x_dir=(1, 0, 0), z_dir=(0, 1, 0))):
        with Locations((21.59002512, 5.167736764)):
            Rectangle(SKETCH3_W, SKETCH3_H)
        with Locations((21.59002512, 5.167736764)):
            Circle(SKETCH3_R_2, mode=Mode.SUBTRACT)
    extrude(amount=BOSS_EXTRUDE3_3_DEPTH)


with BuildPart() as body_7:
    # Sketch3 → Boss-Extrude3 4 (new body)
    with BuildSketch(Plane(origin=(0, 0, 0), x_dir=(1, 0, 0), z_dir=(0, 1, 0))):
        with Locations((24.150636365, 7.707653136)):
            Rectangle(SKETCH3_W_2, SKETCH3_H)
        with Locations((24.150636364, 7.707653136)):
            Circle(SKETCH3_R_2, mode=Mode.SUBTRACT)
    extrude(amount=BOSS_EXTRUDE3_4_DEPTH)


with BuildPart() as body_8:
    # Sketch4 → Boss-Extrude4 (new body)
    with BuildSketch(Plane(origin=(0, 0, 0), x_dir=(1, 0, 0), z_dir=(0, 1, 0))):
        with Locations((-29, 11.5)):
            Circle(SKETCH4_R)
        with Locations((-29, 11.5)):
            Circle(SKETCH4_R_2, mode=Mode.SUBTRACT)
    extrude(amount=BOSS_EXTRUDE4_DEPTH)


with BuildPart() as body_9:
    # Mirror1: mirrored copy
    add(body_8.part.mirror(Plane(origin=(0, 0, 0), x_dir=(0, 0, 1), z_dir=(1, 0, 0))))


with BuildPart() as body_10:
    # Mirror2: mirrored copy
    add(body_8.part.mirror(Plane.XY))


with BuildPart() as body_11:
    # Mirror2 2: mirrored copy
    add(body_9.part.mirror(Plane.XY))


solid = Compound([part.part, body_2.part, body_3.part, body_4.part, body_5.part, body_6.part, body_7.part, body_8.part, body_9.part, body_10.part, body_11.part])
